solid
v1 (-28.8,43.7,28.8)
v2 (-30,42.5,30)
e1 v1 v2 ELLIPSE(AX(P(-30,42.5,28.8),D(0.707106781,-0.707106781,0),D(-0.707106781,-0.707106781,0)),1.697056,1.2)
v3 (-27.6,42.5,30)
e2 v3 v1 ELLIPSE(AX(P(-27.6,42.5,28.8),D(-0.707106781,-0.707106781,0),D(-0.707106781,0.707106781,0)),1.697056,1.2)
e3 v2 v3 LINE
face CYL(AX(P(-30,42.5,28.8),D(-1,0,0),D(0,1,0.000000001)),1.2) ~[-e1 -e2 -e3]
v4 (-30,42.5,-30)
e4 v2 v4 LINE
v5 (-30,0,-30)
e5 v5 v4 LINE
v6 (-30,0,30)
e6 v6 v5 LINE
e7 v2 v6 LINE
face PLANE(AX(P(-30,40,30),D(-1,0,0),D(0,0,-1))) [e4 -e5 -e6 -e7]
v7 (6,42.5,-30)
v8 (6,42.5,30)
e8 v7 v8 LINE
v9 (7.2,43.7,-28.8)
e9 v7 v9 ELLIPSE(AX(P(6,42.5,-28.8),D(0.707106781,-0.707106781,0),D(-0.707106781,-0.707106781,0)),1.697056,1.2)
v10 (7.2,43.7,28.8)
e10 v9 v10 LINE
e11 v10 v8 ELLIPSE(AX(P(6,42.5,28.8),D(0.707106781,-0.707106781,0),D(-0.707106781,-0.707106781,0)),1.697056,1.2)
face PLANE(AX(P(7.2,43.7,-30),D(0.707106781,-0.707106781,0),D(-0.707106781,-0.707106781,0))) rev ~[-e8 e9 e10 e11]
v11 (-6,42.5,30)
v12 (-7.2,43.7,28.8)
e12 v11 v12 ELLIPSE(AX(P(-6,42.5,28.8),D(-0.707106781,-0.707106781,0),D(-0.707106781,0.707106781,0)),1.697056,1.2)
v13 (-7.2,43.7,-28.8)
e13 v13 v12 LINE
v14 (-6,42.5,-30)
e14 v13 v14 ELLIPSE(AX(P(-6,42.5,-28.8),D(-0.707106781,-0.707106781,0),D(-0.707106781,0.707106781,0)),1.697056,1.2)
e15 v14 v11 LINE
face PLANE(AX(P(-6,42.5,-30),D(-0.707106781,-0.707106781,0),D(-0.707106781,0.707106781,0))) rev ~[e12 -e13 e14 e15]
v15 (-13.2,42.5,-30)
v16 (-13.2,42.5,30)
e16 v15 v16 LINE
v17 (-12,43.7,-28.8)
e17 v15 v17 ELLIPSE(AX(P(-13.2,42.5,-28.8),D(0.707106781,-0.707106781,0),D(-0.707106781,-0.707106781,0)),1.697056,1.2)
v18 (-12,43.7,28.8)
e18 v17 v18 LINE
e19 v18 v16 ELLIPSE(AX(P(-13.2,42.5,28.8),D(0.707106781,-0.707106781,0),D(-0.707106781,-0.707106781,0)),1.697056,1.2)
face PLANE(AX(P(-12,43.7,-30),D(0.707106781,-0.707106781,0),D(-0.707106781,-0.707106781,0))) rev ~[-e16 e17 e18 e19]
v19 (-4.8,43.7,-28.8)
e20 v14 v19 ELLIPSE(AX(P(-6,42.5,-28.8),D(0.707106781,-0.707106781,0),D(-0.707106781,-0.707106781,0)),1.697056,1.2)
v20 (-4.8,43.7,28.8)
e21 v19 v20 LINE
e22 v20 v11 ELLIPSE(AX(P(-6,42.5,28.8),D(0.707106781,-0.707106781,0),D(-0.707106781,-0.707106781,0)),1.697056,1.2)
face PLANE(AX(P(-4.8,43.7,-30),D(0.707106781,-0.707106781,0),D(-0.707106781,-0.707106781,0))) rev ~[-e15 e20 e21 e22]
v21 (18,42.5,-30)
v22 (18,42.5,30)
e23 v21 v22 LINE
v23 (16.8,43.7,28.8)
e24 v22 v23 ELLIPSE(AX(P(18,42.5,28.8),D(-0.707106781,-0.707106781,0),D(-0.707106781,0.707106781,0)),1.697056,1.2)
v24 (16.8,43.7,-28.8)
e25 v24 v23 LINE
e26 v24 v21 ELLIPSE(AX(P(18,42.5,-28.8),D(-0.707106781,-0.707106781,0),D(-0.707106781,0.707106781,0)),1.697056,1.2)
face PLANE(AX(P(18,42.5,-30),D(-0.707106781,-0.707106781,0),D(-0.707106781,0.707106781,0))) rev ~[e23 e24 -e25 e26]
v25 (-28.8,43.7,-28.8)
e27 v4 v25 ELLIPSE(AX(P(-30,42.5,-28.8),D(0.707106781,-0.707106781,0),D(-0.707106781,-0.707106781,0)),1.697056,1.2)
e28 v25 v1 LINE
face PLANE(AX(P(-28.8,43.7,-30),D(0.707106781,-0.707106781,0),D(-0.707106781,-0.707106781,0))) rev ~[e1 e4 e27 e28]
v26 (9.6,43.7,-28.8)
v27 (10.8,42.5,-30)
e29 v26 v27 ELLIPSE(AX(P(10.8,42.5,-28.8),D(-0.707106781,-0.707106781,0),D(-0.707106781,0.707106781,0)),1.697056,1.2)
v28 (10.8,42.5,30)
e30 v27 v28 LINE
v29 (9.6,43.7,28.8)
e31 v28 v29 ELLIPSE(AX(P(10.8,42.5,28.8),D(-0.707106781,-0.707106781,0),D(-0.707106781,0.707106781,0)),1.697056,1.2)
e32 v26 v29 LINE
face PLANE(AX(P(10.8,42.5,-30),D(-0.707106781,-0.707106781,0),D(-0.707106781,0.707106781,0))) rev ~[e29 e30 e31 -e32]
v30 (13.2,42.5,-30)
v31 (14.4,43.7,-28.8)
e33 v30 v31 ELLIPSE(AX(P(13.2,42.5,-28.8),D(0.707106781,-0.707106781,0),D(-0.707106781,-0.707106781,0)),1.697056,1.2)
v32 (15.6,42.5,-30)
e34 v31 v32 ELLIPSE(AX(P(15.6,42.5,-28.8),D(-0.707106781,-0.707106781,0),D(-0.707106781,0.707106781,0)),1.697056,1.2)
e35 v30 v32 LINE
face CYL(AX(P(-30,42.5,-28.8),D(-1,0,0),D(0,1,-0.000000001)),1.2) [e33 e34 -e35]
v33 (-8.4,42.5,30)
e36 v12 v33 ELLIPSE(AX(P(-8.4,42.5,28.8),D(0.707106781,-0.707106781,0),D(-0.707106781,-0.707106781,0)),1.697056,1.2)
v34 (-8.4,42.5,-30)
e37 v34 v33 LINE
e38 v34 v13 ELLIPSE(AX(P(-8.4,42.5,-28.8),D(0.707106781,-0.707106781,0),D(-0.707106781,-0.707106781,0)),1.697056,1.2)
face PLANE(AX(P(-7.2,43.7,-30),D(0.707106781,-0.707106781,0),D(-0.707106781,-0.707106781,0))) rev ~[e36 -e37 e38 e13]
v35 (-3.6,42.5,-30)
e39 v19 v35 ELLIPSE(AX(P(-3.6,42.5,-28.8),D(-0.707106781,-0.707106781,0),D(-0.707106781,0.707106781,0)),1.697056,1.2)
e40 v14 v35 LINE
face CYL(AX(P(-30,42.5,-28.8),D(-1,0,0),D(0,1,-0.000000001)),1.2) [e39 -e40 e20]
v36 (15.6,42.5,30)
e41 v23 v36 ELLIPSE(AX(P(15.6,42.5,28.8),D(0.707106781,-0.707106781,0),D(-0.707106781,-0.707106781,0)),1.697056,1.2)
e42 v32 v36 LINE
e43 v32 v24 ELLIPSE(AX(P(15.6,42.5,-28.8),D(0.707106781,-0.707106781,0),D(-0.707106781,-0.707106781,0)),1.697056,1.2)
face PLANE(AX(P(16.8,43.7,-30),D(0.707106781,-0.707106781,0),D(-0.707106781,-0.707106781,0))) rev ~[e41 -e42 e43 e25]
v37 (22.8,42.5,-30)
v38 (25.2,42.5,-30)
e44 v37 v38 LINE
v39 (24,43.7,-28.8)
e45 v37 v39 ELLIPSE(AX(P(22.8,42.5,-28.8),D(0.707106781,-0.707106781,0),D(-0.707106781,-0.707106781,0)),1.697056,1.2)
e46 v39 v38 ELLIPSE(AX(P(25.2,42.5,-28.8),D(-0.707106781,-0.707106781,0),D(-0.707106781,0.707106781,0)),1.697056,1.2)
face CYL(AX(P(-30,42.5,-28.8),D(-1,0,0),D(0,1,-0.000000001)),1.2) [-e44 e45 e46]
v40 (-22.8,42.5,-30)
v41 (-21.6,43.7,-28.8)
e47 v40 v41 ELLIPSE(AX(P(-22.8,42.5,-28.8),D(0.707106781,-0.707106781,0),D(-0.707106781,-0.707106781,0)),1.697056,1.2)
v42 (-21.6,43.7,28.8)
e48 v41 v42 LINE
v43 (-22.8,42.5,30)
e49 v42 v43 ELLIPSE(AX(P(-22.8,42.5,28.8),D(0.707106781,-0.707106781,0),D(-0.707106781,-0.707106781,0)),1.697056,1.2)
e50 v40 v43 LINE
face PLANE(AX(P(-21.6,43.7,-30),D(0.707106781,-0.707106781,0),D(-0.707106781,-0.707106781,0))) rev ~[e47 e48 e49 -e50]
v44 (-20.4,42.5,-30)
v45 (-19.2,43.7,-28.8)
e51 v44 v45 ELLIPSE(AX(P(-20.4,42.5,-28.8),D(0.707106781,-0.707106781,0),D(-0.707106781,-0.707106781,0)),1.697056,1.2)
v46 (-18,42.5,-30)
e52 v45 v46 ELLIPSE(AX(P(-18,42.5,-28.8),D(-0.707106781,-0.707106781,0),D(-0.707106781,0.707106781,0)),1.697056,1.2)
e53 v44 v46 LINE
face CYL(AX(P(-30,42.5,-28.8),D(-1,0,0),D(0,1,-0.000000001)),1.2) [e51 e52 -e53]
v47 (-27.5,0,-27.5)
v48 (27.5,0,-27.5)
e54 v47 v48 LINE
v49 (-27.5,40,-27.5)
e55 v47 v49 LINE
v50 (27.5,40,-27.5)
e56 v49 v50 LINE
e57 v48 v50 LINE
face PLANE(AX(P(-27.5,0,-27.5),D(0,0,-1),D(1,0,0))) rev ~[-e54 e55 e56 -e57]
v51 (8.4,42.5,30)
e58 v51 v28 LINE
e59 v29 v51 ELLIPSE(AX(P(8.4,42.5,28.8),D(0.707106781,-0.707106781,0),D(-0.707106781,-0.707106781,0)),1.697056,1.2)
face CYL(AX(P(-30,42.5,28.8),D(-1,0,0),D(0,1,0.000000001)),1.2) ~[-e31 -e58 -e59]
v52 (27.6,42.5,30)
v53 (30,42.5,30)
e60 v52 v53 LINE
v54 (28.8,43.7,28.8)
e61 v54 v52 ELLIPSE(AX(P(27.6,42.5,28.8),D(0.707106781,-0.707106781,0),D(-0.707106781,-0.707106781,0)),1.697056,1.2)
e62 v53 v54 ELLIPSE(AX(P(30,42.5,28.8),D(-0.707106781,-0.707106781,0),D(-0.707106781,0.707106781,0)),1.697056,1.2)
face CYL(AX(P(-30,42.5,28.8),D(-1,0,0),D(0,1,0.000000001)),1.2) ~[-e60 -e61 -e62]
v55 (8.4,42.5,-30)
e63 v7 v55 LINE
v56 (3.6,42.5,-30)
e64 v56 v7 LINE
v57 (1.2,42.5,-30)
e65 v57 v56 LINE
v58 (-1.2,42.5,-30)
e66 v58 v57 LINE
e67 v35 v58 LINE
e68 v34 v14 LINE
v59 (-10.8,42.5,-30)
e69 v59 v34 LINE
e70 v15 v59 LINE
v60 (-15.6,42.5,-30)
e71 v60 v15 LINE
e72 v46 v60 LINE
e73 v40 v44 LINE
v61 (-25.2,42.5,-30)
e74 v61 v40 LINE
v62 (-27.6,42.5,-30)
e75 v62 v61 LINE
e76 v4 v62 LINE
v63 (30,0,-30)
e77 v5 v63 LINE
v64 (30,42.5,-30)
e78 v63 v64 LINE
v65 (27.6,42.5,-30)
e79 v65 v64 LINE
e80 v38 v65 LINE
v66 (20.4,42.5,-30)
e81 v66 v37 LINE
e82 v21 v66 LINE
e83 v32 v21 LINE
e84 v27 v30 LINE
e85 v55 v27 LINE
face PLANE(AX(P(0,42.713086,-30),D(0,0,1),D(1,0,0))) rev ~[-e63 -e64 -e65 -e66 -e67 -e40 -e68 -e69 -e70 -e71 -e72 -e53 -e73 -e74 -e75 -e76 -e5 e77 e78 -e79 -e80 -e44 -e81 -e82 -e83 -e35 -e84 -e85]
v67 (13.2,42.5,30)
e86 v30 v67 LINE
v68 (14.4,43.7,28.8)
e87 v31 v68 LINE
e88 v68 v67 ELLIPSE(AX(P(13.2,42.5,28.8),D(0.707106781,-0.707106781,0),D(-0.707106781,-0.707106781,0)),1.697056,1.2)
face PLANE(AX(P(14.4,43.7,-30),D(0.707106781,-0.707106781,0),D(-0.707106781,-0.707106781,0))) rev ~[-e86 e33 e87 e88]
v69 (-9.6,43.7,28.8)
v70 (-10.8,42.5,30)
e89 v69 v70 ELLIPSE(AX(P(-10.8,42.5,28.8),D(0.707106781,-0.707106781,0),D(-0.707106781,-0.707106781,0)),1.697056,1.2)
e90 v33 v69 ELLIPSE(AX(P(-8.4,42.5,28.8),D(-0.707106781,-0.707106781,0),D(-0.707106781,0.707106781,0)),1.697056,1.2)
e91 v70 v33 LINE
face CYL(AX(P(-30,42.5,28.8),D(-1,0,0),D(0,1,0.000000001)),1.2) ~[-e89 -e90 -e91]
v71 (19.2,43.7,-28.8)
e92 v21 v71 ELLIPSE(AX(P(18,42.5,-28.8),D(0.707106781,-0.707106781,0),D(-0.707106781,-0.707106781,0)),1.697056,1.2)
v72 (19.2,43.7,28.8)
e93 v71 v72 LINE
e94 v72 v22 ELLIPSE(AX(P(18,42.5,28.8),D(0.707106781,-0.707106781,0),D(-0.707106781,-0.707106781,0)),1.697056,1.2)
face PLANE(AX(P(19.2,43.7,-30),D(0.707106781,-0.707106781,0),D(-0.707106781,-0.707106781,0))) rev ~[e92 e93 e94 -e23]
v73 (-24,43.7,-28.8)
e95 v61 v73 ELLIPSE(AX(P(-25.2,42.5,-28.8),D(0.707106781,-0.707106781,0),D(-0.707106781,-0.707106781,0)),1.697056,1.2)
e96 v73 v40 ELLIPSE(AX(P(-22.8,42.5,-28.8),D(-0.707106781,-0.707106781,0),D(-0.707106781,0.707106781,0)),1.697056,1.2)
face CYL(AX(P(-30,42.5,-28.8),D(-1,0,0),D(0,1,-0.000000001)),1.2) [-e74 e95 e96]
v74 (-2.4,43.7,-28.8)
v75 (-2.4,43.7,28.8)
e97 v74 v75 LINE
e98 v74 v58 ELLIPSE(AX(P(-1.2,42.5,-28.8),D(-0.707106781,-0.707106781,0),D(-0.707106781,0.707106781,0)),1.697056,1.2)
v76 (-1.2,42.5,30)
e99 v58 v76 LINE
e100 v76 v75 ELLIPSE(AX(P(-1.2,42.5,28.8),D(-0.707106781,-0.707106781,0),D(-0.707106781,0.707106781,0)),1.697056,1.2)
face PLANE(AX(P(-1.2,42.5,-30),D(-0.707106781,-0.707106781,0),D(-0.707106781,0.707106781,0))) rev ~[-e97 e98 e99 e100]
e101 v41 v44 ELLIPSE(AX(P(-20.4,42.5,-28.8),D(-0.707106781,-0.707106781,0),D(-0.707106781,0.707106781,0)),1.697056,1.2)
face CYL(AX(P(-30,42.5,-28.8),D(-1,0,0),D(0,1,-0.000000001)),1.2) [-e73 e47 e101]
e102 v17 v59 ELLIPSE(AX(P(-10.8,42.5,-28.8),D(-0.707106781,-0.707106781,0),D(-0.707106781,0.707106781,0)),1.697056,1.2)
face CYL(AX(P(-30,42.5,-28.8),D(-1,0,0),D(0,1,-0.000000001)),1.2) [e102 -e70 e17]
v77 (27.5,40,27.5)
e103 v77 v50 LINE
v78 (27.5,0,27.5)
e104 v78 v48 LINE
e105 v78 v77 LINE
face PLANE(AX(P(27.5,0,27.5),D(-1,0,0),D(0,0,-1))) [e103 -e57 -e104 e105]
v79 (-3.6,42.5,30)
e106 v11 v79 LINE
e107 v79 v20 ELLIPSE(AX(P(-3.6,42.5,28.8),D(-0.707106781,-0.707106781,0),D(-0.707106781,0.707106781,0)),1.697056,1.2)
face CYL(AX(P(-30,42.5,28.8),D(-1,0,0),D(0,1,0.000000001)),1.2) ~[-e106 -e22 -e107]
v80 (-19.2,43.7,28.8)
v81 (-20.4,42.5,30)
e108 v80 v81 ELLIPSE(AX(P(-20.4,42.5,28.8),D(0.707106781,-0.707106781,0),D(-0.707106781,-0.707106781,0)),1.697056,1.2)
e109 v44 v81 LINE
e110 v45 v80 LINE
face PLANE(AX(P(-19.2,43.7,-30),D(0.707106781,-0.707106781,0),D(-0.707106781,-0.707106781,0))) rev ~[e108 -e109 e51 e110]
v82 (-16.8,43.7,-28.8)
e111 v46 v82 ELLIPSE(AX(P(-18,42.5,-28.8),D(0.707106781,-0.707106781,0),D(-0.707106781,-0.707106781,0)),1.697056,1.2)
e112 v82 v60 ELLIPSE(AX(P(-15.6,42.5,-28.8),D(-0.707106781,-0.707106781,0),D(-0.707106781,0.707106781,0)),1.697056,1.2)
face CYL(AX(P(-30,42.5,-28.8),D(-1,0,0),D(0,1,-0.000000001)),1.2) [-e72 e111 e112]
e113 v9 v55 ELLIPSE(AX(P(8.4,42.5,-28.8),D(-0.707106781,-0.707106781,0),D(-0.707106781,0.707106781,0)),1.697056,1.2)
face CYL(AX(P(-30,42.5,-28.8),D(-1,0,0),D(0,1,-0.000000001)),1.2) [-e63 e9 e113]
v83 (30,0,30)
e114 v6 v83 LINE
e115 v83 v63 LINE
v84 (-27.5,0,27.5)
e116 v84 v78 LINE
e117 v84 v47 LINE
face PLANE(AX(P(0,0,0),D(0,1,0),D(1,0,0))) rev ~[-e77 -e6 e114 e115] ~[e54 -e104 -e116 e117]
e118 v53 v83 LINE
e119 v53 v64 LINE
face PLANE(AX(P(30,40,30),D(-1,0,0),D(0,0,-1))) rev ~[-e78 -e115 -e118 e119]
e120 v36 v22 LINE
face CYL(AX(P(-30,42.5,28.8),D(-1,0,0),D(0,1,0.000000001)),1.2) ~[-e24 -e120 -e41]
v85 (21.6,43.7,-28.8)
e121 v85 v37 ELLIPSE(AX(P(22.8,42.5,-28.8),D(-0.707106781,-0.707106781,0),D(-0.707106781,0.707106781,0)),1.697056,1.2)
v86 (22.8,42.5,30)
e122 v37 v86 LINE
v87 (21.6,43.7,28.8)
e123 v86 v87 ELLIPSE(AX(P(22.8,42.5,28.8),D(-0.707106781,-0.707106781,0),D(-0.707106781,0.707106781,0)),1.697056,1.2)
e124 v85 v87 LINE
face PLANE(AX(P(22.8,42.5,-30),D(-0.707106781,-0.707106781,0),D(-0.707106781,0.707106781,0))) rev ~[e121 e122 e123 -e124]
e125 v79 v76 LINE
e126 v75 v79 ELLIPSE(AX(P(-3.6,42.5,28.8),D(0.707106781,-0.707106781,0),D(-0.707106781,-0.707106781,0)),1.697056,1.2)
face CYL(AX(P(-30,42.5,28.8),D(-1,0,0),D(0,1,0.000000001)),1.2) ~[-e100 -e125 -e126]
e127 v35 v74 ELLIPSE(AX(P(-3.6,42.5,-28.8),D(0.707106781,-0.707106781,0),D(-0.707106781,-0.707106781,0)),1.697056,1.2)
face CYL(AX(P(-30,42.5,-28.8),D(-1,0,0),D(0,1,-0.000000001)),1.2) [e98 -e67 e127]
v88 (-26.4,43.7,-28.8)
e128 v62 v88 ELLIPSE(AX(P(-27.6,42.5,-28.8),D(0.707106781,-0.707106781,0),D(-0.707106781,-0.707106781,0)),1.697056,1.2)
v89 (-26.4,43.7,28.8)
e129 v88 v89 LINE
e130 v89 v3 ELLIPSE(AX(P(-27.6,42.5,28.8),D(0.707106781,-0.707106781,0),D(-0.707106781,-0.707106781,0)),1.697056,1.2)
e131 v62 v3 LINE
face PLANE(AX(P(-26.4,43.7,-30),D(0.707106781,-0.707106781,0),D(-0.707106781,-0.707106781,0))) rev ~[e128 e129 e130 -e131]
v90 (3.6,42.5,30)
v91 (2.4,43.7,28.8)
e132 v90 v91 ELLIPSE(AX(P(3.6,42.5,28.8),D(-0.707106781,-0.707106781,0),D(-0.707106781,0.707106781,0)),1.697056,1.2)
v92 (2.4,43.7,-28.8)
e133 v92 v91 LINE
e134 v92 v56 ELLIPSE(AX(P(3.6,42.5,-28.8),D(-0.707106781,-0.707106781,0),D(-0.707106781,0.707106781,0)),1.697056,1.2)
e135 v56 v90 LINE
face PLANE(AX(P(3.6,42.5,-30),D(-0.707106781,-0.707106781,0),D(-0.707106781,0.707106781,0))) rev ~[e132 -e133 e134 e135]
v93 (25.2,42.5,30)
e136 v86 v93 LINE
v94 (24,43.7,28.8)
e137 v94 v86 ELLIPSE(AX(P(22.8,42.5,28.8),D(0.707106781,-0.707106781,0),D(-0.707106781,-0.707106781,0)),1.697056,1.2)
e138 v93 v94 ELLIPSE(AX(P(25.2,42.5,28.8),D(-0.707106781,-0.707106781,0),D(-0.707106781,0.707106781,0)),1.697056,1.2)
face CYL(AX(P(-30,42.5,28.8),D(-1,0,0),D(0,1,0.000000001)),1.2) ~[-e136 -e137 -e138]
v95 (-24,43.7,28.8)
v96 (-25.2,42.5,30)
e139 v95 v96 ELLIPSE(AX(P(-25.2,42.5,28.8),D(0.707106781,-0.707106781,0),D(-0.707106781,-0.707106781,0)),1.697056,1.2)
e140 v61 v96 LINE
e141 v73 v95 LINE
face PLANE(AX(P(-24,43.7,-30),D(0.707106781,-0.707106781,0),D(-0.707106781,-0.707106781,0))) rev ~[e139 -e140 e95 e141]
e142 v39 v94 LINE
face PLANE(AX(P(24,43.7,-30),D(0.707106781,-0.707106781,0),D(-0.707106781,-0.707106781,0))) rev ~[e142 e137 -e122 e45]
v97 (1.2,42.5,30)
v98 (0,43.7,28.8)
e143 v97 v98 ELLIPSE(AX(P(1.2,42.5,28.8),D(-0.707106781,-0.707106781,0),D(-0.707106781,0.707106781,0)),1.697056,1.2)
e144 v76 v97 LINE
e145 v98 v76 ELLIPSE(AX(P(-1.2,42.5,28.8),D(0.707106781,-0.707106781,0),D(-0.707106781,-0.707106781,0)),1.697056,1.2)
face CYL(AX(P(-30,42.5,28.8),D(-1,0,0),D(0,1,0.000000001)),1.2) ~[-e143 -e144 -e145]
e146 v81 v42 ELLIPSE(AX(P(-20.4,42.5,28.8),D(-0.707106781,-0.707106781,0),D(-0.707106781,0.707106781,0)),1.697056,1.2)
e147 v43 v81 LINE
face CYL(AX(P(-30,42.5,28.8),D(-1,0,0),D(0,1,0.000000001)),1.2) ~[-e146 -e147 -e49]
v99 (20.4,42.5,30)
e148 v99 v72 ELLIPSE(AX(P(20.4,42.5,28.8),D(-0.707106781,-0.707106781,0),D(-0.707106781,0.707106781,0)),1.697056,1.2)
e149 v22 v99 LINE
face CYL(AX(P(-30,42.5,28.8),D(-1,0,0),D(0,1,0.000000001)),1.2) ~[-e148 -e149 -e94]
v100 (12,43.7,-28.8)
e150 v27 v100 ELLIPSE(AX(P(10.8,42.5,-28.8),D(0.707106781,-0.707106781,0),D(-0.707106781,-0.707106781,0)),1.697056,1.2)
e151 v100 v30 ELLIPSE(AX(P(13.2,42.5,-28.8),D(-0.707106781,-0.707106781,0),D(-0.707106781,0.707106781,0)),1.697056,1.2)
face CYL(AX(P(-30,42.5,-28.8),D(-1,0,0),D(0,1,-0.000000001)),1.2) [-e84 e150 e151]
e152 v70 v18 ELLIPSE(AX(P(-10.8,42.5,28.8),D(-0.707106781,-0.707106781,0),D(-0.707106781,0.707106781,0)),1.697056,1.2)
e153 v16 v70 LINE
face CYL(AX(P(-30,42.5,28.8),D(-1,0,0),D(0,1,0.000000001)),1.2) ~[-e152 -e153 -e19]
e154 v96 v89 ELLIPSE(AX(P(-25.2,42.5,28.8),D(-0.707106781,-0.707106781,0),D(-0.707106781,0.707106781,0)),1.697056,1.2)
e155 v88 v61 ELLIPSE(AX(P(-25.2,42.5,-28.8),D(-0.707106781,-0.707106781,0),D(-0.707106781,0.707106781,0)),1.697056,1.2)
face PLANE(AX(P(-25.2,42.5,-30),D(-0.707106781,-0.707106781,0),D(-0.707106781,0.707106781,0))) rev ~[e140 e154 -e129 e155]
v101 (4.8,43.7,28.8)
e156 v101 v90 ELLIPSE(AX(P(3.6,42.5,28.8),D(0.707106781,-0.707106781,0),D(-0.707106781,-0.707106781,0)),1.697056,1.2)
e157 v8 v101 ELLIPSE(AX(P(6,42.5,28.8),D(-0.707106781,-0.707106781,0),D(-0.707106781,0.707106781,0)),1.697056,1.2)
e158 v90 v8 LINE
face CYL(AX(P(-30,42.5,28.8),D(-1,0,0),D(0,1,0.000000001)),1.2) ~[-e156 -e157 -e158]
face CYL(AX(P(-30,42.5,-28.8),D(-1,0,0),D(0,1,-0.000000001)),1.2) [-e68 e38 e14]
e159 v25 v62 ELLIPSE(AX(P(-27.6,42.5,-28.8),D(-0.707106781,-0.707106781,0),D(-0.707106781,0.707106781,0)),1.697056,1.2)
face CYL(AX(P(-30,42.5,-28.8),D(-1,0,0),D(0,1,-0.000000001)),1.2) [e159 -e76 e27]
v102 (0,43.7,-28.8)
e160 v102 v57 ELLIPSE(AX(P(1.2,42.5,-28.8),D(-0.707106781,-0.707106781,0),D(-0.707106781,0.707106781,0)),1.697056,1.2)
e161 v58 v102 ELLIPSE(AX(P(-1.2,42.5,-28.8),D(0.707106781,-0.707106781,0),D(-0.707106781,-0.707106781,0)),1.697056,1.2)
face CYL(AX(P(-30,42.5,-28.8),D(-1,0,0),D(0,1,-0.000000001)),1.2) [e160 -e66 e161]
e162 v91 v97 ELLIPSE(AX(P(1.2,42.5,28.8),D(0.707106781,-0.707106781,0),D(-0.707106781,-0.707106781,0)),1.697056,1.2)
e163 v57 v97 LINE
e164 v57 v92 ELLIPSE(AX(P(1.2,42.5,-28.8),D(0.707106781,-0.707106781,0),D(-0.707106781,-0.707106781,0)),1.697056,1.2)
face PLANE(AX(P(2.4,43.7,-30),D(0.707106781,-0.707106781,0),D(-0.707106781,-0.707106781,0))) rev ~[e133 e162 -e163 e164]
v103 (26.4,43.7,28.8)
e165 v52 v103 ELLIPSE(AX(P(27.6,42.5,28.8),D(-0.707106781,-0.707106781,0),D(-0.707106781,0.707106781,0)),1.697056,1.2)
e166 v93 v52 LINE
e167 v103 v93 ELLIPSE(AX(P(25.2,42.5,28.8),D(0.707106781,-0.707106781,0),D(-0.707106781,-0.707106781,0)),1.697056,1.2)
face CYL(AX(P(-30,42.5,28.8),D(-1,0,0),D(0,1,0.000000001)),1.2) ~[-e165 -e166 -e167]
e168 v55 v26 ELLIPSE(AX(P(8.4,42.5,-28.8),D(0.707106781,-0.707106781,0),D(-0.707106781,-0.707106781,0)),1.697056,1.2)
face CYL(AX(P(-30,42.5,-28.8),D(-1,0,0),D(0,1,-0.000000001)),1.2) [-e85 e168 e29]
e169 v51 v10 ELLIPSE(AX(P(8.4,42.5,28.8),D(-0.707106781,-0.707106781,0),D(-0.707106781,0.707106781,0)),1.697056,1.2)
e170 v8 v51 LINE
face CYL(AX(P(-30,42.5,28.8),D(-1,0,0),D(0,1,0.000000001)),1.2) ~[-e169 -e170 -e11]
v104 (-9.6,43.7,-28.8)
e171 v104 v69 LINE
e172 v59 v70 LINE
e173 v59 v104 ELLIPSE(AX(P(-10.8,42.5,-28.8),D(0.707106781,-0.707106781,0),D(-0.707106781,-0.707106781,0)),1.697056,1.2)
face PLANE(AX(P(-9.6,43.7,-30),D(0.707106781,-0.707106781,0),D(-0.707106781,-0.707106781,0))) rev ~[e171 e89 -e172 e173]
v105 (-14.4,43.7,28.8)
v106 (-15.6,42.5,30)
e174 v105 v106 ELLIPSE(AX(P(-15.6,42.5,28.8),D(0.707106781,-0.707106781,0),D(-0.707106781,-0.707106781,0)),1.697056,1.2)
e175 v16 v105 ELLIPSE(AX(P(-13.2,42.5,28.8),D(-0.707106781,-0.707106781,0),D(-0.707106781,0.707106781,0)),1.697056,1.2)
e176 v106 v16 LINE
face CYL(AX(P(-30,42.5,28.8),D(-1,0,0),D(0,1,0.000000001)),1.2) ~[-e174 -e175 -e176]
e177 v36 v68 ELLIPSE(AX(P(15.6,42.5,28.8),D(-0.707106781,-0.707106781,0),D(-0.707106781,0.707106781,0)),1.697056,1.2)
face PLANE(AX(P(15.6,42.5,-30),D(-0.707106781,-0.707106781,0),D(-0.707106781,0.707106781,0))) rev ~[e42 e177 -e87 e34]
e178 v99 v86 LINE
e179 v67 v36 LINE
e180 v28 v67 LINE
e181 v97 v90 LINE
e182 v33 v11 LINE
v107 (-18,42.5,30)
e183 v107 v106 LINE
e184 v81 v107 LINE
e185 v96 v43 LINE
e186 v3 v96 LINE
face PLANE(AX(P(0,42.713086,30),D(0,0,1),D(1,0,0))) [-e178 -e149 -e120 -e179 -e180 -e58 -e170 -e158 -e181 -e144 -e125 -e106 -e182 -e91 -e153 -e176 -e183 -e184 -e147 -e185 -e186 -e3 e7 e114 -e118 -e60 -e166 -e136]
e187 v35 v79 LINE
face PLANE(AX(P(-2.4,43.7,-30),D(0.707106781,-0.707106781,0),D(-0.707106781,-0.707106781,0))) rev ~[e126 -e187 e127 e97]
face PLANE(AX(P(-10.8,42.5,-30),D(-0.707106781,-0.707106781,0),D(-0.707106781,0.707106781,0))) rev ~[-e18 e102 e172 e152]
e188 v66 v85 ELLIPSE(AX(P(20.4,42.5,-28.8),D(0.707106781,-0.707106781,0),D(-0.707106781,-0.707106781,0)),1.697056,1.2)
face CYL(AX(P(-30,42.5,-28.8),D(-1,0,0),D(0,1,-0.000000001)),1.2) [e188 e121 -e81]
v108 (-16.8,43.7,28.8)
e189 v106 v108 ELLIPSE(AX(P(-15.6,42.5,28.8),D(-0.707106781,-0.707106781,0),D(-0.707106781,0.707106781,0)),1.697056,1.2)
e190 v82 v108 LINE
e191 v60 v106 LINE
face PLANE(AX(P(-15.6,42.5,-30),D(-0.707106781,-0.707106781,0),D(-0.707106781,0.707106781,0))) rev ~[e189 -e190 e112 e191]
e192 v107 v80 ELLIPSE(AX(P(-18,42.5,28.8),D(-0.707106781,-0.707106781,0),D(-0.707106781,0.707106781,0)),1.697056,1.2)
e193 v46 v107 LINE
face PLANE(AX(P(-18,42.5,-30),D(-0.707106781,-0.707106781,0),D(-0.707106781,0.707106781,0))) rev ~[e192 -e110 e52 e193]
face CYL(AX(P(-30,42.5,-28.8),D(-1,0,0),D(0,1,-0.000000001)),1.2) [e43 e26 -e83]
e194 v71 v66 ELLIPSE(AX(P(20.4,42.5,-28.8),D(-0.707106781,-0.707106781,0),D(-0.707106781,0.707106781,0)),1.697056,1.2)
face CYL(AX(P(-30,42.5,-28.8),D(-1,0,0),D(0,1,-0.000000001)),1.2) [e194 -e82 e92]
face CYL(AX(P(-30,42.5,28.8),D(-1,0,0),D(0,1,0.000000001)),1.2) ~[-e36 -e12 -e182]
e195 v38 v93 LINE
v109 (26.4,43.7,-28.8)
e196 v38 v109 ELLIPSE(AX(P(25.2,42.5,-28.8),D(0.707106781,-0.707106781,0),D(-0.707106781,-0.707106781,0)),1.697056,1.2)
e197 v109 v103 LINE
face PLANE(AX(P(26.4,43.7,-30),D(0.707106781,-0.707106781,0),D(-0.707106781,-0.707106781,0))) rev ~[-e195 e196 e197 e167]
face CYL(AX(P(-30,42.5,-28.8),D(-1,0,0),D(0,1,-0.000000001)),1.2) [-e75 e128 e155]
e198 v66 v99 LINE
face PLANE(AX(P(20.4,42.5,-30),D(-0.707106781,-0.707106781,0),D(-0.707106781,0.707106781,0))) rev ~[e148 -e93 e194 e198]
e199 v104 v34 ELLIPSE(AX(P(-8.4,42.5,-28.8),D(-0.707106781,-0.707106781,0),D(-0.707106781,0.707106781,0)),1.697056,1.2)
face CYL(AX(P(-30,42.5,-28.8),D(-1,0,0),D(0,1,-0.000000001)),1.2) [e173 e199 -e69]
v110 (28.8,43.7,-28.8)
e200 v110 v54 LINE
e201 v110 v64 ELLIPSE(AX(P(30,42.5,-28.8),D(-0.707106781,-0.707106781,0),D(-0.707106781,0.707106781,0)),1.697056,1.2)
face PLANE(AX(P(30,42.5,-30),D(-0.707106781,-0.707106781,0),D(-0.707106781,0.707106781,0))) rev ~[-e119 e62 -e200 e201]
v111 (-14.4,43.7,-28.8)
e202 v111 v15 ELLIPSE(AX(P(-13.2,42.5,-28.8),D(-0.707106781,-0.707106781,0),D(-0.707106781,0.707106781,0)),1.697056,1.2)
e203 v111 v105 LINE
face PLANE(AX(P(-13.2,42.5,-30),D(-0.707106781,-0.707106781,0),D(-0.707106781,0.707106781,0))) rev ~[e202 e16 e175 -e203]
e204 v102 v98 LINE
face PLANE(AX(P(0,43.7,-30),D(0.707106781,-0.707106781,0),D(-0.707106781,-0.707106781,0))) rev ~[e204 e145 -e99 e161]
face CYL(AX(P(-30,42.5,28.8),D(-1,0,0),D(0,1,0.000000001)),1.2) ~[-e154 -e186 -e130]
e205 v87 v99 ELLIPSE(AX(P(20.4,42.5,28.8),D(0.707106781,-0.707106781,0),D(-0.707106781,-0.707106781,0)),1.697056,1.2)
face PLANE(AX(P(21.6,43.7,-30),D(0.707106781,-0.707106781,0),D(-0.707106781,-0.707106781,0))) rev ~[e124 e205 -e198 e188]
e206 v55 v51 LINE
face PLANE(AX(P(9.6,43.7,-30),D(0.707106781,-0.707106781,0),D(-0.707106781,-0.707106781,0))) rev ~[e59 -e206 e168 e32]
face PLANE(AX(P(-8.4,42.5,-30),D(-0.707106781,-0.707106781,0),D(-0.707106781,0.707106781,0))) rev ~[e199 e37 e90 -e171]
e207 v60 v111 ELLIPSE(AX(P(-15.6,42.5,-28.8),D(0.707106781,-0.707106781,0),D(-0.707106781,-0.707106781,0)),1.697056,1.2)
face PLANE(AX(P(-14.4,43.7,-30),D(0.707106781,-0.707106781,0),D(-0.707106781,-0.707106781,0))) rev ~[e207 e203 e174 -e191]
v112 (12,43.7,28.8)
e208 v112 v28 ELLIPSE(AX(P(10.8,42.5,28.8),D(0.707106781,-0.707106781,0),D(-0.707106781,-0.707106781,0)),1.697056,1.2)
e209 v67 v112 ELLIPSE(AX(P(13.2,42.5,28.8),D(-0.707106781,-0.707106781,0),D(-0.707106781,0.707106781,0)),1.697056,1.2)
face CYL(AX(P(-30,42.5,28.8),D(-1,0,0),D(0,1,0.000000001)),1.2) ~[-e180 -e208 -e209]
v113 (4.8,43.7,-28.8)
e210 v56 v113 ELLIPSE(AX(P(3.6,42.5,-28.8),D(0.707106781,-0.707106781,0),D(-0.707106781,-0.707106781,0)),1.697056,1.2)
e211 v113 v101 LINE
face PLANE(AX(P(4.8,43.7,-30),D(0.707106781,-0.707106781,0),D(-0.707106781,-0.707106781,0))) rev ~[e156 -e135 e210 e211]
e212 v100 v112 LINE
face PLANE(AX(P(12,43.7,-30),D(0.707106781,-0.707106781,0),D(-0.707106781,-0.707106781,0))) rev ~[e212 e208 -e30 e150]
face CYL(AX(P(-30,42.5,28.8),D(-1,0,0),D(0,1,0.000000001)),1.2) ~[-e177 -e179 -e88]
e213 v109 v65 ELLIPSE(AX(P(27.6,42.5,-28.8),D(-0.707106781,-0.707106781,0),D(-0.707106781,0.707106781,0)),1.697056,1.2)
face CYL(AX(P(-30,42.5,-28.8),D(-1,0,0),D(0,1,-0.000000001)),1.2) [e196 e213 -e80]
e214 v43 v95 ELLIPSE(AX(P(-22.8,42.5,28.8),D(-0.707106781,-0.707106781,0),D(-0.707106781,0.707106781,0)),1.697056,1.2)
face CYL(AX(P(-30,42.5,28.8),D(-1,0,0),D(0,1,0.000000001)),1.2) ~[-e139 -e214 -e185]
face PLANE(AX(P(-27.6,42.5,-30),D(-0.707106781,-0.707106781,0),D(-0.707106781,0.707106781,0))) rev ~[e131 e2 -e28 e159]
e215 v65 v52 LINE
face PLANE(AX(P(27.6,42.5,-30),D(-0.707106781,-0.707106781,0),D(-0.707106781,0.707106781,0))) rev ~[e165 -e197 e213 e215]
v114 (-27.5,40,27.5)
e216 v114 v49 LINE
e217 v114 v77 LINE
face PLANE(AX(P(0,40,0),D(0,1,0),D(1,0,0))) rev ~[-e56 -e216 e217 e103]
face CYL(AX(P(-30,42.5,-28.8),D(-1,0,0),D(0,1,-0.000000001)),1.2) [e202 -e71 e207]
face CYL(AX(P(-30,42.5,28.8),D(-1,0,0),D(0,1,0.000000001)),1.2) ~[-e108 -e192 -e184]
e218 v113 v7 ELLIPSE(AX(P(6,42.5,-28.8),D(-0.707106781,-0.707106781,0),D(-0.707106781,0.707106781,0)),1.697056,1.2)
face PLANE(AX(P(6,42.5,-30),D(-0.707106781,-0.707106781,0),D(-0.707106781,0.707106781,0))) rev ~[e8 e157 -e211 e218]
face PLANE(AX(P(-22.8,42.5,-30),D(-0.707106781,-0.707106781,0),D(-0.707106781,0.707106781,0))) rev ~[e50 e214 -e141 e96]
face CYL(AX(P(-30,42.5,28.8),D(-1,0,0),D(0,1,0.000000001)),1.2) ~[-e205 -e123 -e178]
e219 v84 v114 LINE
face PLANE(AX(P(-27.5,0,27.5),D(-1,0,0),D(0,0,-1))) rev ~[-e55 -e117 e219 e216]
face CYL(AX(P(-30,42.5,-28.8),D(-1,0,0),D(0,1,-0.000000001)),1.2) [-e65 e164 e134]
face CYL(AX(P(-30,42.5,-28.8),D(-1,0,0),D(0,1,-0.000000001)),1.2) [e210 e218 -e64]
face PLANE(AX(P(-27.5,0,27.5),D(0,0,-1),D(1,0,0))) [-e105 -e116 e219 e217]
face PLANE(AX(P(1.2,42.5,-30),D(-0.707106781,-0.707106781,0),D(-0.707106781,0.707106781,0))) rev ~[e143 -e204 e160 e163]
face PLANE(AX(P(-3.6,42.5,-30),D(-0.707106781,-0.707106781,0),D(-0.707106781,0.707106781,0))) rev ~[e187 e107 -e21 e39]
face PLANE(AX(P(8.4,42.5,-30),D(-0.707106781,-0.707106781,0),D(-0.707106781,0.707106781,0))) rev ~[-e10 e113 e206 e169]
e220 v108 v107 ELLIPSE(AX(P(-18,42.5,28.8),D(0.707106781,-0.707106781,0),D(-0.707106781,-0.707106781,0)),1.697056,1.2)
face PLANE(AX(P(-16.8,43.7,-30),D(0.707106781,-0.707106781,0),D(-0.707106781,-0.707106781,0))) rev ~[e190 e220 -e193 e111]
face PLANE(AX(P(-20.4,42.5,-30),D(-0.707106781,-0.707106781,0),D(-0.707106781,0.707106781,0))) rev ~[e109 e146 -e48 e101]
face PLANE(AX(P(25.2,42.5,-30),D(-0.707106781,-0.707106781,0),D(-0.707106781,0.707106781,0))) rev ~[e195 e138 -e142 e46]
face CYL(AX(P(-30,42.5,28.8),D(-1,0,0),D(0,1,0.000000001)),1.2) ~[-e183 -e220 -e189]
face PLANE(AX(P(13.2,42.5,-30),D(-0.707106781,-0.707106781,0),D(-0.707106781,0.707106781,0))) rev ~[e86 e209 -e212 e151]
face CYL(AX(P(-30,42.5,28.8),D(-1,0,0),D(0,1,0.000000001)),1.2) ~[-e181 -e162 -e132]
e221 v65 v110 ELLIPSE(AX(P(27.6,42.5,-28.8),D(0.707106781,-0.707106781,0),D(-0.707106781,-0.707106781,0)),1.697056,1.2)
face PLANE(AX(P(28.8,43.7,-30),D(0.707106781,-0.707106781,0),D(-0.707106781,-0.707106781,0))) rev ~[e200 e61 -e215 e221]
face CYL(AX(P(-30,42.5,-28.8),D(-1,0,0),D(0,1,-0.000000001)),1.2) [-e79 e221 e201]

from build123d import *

# Parameters (mm, degrees)
SKETCH1_W           = 60
SKETCH1_H           = 60
SKETCH1_W_2         = 55
SKETCH1_H_2         = 55
BOSS_EXTRUDE1_DEPTH = 40
SKETCH2_W           = 60
SKETCH2_H           = 60
BOSS_EXTRUDE2_DEPTH = 2.5
BOSS_EXTRUDE3_DEPTH = 60
CUT_EXTRUDE1_REACH  = 82.061


with BuildPart() as part:
    # Sketch1 → Boss-Extrude1 (new body)
    with BuildSketch(Plane(origin=(0, 0, 0), x_dir=(1, 0, 0), z_dir=(0, 1, 0))):
        Rectangle(SKETCH1_W, SKETCH1_H)
        Rectangle(SKETCH1_W_2, SKETCH1_H_2, mode=Mode.SUBTRACT)
    extrude(amount=BOSS_EXTRUDE1_DEPTH)

    # Sketch2 → Boss-Extrude2 (add)
    with BuildSketch(Plane(origin=(0, 40, 0), x_dir=(1, 0, 0), z_dir=(0, 1, 0))):
        Rectangle(SKETCH2_W, SKETCH2_H)
    extrude(amount=BOSS_EXTRUDE2_DEPTH)

    # Sketch3 → Boss-Extrude3 (add)
    with BuildSketch(Plane(origin=(0, 0, -30), x_dir=(-1, 0, 0), z_dir=(0, 0, -1))):
        Polygon((-30, 42.5), (-28.8, 43.7), (-27.6, 42.5), (-26.4, 43.7), (-25.2, 42.5), (-24, 43.7), (-22.8, 42.5), (-21.6, 43.7), (-20.4, 42.5), (-19.2, 43.7), (-18, 42.5), (-16.8, 43.7), (-15.6, 42.5), (-14.4, 43.7), (-13.2, 42.5), (-12, 43.7), (-10.8, 42.5), (-9.6, 43.7), (-8.4, 42.5), (-7.2, 43.7), (-6, 42.5), (-4.8, 43.7), (-3.6, 42.5), (-2.4, 43.7), (-1.2, 42.5), (0, 43.7), (1.2, 42.5), (2.4, 43.7), (3.6, 42.5), (4.8, 43.7), (6, 42.5), (7.2, 43.7), (8.4, 42.5), (9.6, 43.7), (10.8, 42.5), (12, 43.7), (13.2, 42.5), (14.4, 43.7), (15.6, 42.5), (16.8, 43.7), (18, 42.5), (19.2, 43.7), (20.4, 42.5), (21.6, 43.7), (22.8, 42.5), (24, 43.7), (25.2, 42.5), (26.4, 43.7), (27.6, 42.5), (28.8, 43.7), (30, 42.5), (30, 42.170064374), (-30, 42.170064374), align=None)
    extrude(amount=-BOSS_EXTRUDE3_DEPTH)

    # Cut-Extrude1: up to this face of the body (flat: up to its plane)
    cut_extrude1_end = Plane(part.part.faces().sort_by_distance((30, 21.25, 0))[0])
    # Sketch4 → Cut-Extrude1 (cut, up to the picked face)
    with BuildSketch(Plane.ZY.offset(30), mode=Mode.PRIVATE) as cut_extrude1_sk1:
        with BuildLine():
            Line((-30, 42.5), (-30, 43.7))
            Line((-30, 43.7), (-28.8, 43.7))
            ThreePointArc((-28.8, 43.7), (-29.648528137, 43.348528137), (-30, 42.5))
        make_face()
    cut_extrude1_tool1 = split(extrude(cut_extrude1_sk1.sketch, amount=-CUT_EXTRUDE1_REACH, mode=Mode.PRIVATE), bisect_by=cut_extrude1_end, keep=Keep.BOTH, mode=Mode.PRIVATE)
    cut_extrude1 = cut_extrude1_tool1.solids().sort_by(Axis((-30, 43.431958, -29.731958), (1, 0, 0)))[0]
    add(cut_extrude1, mode=Mode.SUBTRACT)

    # Mirror1: Cut-Extrude1 across plane
    add(cut_extrude1.mirror(Plane.XY), mode=Mode.SUBTRACT)


solid = part.part
